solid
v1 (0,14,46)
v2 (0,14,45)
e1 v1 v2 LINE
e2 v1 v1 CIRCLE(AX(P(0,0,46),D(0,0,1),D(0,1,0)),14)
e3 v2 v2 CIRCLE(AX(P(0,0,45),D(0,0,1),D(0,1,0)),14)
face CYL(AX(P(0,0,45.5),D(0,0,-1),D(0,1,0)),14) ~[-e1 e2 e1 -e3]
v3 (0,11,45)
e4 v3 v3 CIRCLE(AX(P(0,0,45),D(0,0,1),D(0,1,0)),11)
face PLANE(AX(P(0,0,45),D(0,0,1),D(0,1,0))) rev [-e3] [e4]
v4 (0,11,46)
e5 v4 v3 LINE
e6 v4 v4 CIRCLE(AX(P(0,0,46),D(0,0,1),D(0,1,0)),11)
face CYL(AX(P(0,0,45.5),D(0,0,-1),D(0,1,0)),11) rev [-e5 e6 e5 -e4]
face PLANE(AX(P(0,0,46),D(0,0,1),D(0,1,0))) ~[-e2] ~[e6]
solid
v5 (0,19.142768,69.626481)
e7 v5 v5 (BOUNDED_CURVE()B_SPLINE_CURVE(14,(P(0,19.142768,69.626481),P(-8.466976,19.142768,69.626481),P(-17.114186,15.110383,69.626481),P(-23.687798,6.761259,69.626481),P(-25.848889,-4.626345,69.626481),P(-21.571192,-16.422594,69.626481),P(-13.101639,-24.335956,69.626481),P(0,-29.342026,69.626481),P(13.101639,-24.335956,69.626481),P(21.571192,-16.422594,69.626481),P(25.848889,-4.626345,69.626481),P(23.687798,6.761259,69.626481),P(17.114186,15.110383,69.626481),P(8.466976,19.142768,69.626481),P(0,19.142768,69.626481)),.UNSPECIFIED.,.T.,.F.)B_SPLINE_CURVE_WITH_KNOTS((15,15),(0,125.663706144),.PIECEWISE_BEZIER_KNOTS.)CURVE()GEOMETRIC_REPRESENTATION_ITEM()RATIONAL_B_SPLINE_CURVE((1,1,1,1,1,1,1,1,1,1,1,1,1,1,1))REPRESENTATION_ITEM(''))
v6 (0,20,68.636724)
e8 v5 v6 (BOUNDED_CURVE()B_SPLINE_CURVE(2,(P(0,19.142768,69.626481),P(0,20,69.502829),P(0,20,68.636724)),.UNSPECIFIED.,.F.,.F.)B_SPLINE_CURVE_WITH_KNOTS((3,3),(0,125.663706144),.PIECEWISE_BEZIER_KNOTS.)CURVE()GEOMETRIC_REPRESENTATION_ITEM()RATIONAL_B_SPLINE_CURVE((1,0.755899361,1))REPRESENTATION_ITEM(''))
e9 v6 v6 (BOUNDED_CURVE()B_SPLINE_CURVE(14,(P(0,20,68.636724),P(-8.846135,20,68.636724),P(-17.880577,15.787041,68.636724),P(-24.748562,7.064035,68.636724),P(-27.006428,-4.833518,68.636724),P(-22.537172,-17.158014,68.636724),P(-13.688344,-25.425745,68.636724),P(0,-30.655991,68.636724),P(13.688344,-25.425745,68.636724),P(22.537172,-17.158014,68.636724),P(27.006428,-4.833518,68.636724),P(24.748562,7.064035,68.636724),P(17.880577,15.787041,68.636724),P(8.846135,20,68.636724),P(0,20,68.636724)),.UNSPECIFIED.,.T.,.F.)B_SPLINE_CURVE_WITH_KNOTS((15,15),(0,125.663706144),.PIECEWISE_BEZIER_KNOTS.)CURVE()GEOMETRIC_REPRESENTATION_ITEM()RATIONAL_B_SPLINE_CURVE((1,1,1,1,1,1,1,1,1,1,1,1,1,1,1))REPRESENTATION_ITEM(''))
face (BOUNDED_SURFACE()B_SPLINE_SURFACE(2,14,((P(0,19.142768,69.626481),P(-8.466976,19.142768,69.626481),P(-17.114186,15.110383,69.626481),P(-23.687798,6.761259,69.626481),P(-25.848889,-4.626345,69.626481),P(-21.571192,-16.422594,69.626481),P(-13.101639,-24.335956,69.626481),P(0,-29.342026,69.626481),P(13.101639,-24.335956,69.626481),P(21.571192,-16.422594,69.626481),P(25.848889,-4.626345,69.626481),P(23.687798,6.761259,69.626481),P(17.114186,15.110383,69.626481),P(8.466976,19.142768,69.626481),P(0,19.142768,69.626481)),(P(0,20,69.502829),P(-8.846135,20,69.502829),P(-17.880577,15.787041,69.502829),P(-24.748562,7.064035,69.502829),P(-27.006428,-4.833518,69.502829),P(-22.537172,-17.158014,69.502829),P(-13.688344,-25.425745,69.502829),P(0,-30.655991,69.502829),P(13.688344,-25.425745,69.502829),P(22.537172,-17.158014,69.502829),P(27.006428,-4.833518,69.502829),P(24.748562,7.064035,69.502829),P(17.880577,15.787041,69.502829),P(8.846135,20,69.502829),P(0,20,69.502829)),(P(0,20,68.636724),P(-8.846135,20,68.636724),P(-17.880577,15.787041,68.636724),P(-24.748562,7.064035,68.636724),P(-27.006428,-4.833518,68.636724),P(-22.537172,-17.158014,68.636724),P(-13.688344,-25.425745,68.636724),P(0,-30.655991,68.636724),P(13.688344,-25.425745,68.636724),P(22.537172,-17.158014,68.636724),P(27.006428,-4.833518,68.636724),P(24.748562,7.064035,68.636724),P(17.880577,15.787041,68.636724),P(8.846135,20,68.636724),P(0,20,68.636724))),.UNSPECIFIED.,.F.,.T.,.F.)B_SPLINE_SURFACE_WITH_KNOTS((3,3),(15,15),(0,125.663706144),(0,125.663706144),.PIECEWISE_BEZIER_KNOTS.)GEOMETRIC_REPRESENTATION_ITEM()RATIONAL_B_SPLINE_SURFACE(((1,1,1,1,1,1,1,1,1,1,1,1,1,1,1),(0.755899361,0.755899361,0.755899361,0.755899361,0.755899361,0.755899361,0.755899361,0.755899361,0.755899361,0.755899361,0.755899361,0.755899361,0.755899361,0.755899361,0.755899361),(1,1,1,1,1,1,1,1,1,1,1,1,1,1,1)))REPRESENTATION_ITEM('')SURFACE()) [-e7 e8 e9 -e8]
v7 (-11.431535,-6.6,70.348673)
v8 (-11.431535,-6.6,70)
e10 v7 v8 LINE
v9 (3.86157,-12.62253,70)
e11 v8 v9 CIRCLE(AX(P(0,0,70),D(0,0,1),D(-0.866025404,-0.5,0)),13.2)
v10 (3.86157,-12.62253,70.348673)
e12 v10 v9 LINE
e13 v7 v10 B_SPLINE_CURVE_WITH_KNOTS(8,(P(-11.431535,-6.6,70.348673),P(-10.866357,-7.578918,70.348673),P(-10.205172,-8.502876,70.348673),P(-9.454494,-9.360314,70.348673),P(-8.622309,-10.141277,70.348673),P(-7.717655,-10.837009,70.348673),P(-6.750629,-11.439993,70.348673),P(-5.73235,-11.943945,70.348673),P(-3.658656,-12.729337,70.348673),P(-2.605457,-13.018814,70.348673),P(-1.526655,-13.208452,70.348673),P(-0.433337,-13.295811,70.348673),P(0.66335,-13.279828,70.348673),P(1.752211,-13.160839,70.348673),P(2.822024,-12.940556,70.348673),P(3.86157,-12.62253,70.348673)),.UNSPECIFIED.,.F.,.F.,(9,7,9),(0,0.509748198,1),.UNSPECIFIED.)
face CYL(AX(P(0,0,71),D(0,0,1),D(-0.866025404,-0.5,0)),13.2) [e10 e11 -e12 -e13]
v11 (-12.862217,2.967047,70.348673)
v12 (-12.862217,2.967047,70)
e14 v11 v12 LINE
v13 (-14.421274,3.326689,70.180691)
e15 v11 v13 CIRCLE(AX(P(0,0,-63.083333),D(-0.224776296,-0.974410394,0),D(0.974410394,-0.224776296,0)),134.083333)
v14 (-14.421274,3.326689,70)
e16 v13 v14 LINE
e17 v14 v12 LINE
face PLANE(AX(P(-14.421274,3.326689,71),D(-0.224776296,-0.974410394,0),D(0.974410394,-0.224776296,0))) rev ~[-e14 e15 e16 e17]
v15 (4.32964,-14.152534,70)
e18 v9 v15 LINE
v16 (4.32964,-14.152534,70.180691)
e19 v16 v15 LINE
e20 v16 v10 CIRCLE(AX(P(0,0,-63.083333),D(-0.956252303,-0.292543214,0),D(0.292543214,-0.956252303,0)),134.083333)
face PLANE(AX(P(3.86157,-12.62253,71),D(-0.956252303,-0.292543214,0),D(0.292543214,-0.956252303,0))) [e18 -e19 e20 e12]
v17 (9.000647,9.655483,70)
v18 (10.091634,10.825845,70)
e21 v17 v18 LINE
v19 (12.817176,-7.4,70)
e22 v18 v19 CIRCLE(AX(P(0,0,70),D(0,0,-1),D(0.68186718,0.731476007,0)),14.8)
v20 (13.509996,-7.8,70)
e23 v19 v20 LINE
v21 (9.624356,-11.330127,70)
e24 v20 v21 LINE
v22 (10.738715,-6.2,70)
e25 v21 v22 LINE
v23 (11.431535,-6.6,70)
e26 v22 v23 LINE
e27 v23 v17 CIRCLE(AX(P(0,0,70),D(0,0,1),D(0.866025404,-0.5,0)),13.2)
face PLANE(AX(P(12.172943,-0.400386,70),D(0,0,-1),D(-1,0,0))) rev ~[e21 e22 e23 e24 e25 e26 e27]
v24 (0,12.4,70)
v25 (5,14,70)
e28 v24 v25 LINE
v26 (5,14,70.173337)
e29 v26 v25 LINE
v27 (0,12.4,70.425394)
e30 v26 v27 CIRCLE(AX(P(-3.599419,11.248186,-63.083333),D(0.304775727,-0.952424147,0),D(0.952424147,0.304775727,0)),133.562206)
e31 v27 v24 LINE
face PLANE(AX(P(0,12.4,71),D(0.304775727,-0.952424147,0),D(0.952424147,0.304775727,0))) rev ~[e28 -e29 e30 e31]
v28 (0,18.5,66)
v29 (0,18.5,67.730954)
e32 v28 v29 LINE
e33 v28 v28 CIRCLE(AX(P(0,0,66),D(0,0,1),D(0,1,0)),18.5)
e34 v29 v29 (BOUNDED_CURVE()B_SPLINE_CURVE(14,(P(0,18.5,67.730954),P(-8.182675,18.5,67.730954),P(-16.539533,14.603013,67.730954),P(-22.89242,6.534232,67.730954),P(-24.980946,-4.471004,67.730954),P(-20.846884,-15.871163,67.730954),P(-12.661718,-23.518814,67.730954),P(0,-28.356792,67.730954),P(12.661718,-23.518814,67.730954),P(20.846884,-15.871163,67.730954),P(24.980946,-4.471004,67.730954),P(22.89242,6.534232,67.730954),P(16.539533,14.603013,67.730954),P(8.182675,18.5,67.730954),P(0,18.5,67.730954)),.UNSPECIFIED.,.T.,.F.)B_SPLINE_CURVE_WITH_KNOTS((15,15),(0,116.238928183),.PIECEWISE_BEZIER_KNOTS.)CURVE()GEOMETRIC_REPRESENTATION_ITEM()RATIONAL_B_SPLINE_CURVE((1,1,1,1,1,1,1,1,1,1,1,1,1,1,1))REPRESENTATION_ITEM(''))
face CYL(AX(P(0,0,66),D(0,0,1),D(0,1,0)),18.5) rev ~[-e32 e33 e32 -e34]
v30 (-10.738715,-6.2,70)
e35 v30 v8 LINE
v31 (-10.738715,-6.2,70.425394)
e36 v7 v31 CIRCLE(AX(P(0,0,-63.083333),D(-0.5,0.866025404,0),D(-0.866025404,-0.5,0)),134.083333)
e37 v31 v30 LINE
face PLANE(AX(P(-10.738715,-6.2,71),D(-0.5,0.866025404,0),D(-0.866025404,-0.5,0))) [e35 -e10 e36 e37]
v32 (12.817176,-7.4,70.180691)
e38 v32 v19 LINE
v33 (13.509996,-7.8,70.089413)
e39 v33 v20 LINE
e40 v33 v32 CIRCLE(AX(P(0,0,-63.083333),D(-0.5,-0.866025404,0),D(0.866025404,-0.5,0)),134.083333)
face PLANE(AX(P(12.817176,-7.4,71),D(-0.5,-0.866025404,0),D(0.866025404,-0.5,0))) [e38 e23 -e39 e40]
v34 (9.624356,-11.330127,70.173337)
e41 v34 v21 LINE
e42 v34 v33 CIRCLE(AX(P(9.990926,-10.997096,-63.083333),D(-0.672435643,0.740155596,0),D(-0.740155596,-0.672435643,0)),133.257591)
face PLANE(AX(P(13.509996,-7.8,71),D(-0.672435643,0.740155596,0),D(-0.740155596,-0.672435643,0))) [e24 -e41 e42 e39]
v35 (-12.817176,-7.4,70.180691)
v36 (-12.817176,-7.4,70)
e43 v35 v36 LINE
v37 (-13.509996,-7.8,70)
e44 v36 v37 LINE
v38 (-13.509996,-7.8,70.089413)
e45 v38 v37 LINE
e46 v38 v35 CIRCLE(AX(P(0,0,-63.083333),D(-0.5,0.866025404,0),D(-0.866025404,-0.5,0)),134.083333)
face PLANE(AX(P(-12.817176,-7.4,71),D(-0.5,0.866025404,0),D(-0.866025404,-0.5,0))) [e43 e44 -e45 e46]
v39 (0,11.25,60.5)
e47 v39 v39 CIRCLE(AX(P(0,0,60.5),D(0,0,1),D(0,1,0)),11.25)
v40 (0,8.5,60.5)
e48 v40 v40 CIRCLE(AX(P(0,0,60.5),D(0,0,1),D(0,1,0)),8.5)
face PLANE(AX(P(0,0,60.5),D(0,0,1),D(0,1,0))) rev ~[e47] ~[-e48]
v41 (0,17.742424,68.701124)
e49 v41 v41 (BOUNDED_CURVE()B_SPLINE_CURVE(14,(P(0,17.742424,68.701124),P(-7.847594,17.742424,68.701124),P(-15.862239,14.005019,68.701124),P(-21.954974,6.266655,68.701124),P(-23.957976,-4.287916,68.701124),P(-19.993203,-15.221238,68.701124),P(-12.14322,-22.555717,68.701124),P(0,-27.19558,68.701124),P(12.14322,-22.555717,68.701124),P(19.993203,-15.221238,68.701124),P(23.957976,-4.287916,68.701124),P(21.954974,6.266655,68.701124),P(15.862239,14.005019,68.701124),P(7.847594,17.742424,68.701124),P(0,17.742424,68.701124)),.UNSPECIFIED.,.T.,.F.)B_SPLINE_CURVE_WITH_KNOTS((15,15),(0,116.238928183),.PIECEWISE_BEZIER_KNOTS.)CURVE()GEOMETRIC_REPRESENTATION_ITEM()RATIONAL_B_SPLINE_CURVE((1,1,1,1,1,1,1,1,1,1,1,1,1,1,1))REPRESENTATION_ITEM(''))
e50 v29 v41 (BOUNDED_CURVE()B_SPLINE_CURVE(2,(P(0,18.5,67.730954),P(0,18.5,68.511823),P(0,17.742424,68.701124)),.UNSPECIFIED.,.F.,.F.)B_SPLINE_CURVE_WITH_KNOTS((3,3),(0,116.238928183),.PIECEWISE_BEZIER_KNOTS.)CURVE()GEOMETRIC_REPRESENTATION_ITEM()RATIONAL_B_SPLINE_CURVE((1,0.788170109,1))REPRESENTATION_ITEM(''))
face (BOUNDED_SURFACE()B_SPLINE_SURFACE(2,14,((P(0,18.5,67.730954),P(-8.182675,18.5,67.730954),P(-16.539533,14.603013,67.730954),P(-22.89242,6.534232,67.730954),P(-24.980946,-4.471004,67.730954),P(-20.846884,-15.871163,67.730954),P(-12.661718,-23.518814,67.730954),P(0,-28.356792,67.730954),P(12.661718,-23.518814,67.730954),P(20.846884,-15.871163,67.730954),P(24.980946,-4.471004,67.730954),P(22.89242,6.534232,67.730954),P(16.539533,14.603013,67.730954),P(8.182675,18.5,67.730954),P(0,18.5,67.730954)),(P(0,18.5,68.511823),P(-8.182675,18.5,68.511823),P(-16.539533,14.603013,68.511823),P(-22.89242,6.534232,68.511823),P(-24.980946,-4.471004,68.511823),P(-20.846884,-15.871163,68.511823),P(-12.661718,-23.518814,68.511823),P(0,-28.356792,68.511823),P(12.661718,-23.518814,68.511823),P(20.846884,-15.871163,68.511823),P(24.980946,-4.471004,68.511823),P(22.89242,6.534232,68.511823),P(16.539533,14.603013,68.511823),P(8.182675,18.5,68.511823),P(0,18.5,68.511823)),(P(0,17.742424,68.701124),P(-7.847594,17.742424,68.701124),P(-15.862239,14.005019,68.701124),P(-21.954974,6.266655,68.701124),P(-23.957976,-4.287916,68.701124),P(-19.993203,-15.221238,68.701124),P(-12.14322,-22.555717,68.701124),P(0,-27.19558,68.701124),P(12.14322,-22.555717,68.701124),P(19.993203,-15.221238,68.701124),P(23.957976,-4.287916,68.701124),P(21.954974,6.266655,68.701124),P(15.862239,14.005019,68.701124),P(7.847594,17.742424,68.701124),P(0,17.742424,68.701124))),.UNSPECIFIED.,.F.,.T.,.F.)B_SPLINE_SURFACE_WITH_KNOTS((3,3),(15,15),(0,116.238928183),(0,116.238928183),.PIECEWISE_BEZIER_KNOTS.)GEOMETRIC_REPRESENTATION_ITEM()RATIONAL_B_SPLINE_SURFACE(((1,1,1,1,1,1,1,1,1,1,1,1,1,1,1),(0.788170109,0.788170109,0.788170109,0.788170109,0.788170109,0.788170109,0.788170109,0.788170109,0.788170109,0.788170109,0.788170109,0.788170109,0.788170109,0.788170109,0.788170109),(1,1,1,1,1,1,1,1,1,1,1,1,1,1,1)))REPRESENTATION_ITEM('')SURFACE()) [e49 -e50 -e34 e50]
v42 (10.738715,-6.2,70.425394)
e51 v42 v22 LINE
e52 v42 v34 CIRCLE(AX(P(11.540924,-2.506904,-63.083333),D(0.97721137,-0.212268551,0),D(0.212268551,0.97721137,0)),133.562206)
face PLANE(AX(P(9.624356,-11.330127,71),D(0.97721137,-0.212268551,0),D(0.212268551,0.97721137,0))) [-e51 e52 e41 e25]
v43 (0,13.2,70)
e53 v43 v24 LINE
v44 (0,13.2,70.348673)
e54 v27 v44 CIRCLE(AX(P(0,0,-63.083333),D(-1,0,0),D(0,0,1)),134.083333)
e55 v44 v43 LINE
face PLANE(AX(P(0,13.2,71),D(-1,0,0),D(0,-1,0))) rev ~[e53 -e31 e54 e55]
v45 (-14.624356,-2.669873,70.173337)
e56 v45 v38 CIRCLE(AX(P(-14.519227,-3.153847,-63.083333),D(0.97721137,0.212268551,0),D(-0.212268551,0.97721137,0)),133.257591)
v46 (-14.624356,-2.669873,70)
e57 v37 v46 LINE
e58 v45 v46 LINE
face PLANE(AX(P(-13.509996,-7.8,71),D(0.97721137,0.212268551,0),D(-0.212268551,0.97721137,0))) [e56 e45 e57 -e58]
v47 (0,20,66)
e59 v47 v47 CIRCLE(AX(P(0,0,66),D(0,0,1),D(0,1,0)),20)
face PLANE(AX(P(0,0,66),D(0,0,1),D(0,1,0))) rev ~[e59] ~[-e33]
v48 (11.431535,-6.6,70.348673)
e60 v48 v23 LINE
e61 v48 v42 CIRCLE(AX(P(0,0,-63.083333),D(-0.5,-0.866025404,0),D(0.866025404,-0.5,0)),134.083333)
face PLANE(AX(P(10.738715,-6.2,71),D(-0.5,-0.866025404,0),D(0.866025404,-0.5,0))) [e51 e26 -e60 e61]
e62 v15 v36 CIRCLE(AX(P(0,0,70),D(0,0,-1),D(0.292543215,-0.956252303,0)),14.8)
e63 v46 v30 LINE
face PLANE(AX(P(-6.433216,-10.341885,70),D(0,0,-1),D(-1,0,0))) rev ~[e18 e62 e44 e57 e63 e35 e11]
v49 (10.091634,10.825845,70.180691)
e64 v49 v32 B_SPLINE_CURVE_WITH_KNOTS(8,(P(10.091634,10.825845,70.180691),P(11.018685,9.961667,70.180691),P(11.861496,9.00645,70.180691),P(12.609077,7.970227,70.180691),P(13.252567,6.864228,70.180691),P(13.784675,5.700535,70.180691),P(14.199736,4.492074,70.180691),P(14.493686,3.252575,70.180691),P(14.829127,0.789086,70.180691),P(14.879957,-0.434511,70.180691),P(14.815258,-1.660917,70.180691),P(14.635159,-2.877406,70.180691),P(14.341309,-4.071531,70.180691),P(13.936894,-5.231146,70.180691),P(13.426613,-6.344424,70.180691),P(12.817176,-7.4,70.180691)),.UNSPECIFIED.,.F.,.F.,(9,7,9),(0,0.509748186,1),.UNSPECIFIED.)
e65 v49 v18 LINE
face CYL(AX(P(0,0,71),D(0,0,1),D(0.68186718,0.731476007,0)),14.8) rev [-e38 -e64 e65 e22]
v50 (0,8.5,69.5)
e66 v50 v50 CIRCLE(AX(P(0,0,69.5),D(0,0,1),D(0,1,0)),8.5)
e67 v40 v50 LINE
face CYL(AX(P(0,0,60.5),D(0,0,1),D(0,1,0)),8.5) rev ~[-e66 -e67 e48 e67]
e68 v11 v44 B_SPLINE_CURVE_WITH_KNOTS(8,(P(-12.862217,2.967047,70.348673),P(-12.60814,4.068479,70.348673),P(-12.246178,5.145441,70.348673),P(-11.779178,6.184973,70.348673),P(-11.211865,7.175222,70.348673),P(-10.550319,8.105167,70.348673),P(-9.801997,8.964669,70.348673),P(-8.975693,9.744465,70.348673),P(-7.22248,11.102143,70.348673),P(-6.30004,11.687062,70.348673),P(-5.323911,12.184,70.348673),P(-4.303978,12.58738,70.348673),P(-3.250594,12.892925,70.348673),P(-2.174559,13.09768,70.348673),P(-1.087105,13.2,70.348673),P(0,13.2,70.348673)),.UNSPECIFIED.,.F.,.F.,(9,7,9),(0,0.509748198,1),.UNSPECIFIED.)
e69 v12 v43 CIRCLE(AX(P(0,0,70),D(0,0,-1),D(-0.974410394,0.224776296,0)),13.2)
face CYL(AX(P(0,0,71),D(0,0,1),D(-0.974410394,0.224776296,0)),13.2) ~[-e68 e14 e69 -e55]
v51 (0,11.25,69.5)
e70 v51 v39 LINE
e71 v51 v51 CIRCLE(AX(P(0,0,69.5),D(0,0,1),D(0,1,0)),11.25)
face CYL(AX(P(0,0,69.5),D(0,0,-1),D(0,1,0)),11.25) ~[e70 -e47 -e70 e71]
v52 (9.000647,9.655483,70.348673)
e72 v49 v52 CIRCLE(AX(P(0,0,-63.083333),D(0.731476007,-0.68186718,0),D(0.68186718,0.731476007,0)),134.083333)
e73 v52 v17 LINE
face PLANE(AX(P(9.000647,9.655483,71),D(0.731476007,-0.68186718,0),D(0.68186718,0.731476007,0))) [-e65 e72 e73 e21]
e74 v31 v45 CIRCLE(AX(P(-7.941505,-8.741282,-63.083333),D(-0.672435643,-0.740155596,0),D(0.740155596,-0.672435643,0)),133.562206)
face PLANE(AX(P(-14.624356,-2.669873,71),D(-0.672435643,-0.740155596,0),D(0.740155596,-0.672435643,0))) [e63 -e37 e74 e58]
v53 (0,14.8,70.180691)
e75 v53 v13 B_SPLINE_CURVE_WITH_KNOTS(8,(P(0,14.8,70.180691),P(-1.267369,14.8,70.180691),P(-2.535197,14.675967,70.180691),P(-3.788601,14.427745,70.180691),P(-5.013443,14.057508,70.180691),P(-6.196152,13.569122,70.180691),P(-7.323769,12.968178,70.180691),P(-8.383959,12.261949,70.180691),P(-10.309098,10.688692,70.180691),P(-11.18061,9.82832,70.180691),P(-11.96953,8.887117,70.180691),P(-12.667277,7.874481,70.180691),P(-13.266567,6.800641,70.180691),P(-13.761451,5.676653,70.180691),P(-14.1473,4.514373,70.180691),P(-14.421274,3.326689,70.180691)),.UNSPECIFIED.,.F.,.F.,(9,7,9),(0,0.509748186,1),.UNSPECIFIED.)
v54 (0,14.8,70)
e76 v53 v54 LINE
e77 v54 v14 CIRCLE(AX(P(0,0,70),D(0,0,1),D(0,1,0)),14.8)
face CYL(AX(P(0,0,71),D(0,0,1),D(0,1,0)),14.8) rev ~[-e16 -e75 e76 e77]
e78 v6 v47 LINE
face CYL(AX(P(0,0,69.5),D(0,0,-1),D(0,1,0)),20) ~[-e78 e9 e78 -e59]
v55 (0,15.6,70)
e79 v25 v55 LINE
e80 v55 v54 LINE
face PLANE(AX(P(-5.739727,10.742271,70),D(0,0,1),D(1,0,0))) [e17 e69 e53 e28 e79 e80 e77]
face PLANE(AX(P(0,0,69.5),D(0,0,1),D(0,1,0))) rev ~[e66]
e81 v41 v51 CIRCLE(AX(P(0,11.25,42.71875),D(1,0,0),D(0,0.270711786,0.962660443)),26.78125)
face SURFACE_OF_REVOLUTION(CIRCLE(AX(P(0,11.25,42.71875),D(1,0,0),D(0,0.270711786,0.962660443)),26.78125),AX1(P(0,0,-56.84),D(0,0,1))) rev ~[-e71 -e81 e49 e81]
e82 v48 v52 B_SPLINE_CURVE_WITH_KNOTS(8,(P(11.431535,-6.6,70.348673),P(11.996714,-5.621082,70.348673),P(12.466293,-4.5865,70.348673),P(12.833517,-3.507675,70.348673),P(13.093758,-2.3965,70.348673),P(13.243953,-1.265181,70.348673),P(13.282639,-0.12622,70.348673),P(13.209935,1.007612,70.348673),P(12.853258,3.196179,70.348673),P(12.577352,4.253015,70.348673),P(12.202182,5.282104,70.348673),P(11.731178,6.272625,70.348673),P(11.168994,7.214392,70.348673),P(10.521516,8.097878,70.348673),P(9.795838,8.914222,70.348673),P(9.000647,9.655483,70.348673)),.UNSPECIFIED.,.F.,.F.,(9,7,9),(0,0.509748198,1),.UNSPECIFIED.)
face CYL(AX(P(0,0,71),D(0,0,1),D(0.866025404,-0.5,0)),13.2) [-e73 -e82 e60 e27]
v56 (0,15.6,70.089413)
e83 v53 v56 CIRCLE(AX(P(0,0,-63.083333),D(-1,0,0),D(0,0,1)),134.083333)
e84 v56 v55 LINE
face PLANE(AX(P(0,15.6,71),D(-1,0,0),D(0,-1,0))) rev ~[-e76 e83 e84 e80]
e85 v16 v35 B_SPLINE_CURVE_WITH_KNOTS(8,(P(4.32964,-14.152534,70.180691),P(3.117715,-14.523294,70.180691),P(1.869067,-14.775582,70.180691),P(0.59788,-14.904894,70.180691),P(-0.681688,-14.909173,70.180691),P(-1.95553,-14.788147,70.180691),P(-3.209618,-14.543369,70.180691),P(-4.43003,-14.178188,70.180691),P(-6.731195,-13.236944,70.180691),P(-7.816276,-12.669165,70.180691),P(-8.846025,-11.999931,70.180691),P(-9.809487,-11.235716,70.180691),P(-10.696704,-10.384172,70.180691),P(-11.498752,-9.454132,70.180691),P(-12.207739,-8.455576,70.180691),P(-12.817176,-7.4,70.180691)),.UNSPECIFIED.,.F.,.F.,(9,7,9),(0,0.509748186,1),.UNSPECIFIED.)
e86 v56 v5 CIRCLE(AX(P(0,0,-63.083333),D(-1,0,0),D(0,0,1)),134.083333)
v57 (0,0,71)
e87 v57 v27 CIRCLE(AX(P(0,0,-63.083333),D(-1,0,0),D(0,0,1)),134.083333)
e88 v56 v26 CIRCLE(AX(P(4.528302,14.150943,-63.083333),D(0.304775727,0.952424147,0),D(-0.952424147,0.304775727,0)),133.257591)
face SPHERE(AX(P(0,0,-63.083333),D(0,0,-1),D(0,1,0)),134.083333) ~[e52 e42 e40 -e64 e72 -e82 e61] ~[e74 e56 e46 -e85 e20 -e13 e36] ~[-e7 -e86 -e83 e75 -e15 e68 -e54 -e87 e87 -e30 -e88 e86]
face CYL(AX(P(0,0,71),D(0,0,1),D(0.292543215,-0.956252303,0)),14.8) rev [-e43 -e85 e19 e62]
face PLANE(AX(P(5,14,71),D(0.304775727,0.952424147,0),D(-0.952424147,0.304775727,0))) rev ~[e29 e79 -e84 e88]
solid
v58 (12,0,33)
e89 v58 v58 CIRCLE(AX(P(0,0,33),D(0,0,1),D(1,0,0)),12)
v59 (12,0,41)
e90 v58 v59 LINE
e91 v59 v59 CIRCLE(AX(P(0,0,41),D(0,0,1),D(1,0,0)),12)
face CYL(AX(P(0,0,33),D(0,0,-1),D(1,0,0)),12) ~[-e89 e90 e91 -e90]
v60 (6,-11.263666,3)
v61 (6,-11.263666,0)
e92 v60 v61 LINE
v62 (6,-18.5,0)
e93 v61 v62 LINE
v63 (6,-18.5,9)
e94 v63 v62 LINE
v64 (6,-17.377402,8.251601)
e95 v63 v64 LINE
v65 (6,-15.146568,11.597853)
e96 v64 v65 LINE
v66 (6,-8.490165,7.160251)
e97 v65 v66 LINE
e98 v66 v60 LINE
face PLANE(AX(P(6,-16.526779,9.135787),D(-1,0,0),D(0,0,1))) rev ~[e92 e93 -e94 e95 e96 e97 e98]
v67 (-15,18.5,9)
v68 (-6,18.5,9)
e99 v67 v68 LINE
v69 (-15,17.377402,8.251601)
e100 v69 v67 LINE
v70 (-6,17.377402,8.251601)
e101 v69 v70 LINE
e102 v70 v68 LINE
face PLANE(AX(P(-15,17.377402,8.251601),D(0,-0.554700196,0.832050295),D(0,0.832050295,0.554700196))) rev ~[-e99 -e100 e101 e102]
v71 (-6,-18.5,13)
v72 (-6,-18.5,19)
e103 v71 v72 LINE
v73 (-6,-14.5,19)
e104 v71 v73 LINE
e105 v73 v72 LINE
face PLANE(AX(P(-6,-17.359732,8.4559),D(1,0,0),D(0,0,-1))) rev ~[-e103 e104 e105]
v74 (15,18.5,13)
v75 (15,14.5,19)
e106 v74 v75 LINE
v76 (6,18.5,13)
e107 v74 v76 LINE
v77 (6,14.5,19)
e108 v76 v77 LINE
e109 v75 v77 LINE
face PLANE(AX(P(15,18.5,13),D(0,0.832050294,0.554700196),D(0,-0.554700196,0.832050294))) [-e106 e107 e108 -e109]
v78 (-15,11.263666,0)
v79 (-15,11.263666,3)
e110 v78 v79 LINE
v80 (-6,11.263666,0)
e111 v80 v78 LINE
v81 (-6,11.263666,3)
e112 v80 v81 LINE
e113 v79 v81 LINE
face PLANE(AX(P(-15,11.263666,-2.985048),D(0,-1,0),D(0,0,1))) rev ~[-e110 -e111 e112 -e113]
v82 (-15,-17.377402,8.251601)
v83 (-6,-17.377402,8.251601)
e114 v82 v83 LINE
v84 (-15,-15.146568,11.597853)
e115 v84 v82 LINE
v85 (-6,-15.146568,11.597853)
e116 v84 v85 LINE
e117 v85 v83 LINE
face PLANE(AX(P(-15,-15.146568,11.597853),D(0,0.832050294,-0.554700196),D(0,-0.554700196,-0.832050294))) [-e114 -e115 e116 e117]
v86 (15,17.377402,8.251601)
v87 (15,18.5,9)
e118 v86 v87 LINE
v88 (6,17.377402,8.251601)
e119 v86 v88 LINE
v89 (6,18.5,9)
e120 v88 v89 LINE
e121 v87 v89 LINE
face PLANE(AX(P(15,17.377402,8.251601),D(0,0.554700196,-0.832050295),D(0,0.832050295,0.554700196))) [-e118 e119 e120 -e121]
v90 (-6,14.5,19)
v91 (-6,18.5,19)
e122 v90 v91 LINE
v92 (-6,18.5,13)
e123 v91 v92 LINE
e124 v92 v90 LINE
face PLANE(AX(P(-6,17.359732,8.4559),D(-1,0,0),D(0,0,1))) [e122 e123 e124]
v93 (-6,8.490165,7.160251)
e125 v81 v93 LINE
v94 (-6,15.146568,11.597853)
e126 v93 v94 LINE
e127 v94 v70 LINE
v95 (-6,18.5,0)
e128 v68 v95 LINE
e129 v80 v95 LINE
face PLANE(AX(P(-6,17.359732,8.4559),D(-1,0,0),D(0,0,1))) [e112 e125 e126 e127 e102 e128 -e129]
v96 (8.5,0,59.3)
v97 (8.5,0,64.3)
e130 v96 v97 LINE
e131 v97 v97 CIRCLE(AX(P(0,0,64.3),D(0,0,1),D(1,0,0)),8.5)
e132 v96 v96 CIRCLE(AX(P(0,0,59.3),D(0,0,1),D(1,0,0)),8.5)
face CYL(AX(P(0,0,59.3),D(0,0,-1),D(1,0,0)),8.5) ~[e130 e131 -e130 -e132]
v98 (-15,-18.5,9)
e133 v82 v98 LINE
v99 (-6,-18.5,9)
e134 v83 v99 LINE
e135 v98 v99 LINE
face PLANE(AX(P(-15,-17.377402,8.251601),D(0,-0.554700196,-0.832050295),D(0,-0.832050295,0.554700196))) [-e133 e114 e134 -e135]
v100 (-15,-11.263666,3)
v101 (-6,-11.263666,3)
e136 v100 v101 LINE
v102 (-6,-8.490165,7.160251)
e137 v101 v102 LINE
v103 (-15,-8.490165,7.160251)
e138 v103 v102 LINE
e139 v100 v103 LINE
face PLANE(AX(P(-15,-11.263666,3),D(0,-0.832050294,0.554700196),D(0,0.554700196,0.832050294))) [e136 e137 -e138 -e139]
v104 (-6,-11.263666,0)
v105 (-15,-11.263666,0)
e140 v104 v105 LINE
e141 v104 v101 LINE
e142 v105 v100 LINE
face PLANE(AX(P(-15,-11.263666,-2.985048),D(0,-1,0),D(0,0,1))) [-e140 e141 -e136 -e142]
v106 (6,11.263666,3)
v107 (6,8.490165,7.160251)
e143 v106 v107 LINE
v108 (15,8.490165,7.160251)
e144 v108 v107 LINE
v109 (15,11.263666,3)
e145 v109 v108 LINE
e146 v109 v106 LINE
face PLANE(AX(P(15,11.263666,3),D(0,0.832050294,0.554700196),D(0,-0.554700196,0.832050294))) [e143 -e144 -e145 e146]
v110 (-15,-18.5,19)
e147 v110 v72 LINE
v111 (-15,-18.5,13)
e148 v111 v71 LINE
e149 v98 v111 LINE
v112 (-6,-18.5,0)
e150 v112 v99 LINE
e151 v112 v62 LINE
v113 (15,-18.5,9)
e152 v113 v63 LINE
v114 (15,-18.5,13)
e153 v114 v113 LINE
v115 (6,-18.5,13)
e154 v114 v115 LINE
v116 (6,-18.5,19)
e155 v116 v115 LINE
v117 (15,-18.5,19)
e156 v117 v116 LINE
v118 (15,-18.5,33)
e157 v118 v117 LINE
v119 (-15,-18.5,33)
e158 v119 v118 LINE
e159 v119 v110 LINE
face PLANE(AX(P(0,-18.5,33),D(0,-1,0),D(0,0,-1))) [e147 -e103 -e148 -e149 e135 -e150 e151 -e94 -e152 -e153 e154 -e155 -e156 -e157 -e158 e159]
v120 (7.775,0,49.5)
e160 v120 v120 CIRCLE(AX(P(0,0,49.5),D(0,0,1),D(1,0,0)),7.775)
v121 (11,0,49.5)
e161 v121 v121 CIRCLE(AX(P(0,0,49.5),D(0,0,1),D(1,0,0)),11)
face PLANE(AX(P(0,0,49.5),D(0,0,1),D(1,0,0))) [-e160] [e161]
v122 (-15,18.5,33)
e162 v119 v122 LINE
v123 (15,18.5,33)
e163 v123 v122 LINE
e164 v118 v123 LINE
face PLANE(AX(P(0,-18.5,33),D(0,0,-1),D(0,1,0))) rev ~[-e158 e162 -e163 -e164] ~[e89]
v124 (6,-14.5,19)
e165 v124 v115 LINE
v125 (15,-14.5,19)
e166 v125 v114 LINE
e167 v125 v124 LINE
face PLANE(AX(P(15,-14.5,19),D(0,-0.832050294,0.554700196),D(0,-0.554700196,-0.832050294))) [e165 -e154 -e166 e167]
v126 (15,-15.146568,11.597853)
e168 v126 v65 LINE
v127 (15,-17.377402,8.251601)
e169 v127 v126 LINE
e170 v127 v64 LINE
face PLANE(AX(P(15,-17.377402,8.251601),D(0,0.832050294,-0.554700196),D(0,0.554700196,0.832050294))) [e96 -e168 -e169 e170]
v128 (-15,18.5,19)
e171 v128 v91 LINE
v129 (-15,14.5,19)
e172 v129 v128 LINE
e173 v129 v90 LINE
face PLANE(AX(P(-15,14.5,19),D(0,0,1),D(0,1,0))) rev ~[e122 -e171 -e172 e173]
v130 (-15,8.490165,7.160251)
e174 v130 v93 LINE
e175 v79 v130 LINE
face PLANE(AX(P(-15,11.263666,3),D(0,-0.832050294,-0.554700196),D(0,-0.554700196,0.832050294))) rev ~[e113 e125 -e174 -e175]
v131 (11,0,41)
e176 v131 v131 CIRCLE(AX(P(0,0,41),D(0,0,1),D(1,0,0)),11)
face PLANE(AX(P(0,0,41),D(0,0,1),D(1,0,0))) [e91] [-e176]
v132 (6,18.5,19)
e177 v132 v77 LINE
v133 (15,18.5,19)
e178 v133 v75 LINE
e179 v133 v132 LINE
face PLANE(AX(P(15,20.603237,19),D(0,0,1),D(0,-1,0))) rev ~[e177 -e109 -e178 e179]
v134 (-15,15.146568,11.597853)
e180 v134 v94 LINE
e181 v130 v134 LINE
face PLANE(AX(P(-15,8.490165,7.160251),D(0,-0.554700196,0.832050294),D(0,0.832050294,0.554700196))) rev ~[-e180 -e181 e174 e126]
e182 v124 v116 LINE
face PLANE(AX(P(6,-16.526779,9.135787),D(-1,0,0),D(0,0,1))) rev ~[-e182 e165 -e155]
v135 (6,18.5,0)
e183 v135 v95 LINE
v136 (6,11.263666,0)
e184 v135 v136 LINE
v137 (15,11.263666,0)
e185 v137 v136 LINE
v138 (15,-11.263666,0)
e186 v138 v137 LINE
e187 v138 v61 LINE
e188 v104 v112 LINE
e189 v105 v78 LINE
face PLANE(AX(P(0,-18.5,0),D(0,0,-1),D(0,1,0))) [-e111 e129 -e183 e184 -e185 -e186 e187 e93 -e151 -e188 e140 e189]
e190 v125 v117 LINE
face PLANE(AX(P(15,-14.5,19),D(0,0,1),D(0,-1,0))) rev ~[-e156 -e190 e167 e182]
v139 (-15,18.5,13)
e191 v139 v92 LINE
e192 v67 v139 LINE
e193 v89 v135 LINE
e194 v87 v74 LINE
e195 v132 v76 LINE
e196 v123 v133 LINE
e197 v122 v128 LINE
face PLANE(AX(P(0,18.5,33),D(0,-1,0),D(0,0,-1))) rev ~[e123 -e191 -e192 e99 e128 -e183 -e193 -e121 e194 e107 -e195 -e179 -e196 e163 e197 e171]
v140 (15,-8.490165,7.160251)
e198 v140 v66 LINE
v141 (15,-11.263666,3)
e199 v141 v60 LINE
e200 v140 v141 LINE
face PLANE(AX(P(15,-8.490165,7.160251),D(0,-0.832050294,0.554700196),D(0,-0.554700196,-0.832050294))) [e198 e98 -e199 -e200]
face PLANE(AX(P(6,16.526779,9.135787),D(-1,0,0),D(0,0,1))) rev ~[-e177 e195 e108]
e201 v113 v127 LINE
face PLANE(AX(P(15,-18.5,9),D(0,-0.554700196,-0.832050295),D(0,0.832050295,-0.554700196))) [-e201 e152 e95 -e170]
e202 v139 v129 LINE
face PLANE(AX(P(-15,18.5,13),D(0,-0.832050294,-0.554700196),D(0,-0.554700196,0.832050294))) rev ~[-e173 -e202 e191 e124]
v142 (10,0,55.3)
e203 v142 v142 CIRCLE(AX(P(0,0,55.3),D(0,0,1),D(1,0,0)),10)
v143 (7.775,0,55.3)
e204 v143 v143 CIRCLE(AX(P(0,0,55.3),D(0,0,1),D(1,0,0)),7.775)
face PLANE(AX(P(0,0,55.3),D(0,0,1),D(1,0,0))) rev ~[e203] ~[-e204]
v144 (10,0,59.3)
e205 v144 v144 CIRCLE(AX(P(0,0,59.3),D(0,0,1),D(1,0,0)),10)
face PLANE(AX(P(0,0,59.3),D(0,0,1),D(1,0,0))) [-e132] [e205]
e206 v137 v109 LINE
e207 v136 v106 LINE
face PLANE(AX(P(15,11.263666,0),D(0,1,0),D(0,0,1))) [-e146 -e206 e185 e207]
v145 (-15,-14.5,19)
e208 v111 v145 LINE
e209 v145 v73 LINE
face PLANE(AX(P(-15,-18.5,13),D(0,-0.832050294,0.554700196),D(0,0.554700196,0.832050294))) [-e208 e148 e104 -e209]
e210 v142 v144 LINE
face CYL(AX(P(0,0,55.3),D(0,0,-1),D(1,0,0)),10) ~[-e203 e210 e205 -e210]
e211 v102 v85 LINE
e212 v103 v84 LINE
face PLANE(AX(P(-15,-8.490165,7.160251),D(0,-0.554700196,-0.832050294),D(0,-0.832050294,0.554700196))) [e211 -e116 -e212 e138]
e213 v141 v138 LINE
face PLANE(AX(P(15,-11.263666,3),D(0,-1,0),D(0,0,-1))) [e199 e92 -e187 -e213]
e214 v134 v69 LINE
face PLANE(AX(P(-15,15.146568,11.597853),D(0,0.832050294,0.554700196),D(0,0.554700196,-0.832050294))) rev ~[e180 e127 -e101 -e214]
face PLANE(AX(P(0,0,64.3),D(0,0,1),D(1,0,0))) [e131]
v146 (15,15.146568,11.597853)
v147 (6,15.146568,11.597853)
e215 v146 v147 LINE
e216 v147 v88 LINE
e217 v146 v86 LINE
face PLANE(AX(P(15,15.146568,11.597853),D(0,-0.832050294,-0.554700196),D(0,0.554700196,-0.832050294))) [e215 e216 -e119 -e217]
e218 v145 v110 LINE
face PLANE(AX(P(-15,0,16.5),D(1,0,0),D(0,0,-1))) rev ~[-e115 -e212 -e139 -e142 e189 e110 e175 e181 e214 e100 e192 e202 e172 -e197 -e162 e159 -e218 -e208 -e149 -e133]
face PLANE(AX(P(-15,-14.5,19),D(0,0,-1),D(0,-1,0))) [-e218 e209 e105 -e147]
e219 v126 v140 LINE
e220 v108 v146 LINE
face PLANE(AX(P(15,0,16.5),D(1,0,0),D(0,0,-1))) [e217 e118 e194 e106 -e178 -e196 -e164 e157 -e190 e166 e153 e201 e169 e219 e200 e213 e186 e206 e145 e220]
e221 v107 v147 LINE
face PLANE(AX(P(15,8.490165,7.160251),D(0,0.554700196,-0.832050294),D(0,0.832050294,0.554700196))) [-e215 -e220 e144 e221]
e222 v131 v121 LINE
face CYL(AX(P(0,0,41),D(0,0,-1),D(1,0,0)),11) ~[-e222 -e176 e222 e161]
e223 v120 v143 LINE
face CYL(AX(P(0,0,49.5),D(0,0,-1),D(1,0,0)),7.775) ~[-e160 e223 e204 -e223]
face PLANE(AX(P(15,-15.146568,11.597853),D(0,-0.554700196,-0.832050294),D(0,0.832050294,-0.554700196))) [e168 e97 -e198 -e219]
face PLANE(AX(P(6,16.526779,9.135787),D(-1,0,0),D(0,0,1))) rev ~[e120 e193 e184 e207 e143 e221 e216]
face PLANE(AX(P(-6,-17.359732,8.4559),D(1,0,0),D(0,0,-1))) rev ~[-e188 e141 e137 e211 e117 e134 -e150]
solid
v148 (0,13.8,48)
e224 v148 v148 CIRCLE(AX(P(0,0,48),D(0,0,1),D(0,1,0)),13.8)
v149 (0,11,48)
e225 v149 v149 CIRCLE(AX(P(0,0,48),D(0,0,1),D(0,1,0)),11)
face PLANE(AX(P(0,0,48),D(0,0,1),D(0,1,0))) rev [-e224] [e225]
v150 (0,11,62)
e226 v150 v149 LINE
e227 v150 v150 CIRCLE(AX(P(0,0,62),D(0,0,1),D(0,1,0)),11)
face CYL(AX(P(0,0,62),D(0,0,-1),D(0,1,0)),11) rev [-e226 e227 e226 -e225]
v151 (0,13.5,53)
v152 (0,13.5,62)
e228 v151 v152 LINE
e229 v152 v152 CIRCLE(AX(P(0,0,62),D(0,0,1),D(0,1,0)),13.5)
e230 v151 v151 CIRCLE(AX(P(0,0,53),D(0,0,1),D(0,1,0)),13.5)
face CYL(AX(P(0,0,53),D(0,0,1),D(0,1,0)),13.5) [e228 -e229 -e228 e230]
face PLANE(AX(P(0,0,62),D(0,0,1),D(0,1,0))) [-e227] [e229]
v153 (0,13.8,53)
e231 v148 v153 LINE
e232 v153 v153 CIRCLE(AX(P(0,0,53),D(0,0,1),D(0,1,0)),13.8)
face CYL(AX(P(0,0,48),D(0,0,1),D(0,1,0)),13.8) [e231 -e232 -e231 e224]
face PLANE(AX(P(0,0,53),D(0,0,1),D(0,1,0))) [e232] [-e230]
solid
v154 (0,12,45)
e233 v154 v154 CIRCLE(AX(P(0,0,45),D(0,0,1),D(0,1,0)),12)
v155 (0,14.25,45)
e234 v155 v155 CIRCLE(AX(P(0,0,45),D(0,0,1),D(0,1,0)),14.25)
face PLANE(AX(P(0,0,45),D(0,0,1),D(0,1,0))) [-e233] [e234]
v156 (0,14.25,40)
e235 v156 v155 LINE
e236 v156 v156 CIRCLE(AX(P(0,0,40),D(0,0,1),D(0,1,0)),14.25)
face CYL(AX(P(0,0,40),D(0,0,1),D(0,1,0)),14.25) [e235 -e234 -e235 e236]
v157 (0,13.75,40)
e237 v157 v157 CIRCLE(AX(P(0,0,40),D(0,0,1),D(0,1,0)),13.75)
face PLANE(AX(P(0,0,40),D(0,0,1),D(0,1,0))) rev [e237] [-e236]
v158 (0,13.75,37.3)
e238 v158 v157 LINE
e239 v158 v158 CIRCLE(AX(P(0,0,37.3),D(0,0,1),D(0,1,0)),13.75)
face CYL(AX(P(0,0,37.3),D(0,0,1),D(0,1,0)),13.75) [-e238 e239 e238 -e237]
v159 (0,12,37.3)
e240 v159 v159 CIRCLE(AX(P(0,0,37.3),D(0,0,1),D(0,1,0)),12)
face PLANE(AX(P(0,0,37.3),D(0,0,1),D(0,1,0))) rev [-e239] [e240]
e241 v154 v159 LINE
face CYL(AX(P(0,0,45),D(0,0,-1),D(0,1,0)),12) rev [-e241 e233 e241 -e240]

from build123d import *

# Parameters (mm, degrees)
ESQUISSE1_W             = 33
ESQUISSE1_H             = 37
BOSS_EXTRU_1_DEPTH      = 15
ENL_V_MAT_EXTRU_1_DEPTH = 9
ENL_V_MAT_EXTRU_2_DEPTH = 9
ESQUISSE4_R             = 12
BOSS_EXTRU_2_DEPTH      = 8
ESQUISSE5_R             = 11
BOSS_EXTRU_3_DEPTH      = 8.5
ESQUISSE6_R             = 7.775
BOSS_EXTRU_4_DEPTH      = 5.8
ESQUISSE7_R             = 10
BOSS_EXTRU_5_DEPTH      = 4
ESQUISSE8_R             = 8.5
BOSS_EXTRU_6_DEPTH      = 5
ESQUISSE10_W            = 1
ESQUISSE10_H            = 3
CONG_1_R                = 1
ENL_V_MAT_EXTRU_3_DEPTH = 1


with BuildPart() as part:
    # Esquisse1 → Boss.-Extru.1 (new body, symmetric)
    with BuildSketch(Plane(origin=(0, 0, 0), x_dir=(0, 0, -1), z_dir=(1, 0, 0))):
        with Locations((-16.5, 0)):
            Rectangle(ESQUISSE1_W, ESQUISSE1_H)
    extrude(amount=BOSS_EXTRU_1_DEPTH, both=True)

    # Esquisse2 → Enlèv. mat.-Extru.1 (cut)
    with BuildSketch(Plane(origin=(15, 0, 0), x_dir=(0, 0, -1), z_dir=(1, 0, 0))):
        Polygon((-9, -18.5), (-8.251601476, -17.377402213), (-11.597853041, -15.146567836), (-7.160251472, -8.490165481), (-3, -11.263666462), (0, -11.263666462), (0, -20.603237272), (-19, -20.603237272), (-19, -18.5), (-19, -14.5), (-13, -18.5), align=None)
        Polygon((-19, 20.603237272), (0, 20.603237272), (0, 11.263666462), (-3, 11.263666462), (-7.160251472, 8.490165481), (-11.597853041, 15.146567836), (-8.251601476, 17.377402213), (-9, 18.5), (-13, 18.5), (-19, 14.5), (-19, 18.5), align=None)
    extrude(amount=-ENL_V_MAT_EXTRU_1_DEPTH, mode=Mode.SUBTRACT)

    # Esquisse3 → Enlèv. mat.-Extru.2 (cut)
    with BuildSketch(Plane.ZY.offset(15)):
        Polygon((-2.98504772, 11.263666462), (3, 11.263666462), (7.160251472, 8.490165481), (11.597853041, 15.146567836), (8.251601476, 17.377402213), (9, 18.5), (13, 18.5), (19, 14.5), (19, 18.5), (21.50409999, 22.256149985), (-2.98504772, 22.256149985), align=None)
        Polygon((-2.98504772, -22.256149985), (-2.98504772, -11.263666462), (3, -11.263666462), (7.160251472, -8.490165481), (11.597853041, -15.146567836), (8.251601476, -17.377402213), (9, -18.5), (13, -18.5), (19, -14.5), (19, -18.5), (21.50409999, -22.256149985), align=None)
    extrude(amount=-ENL_V_MAT_EXTRU_2_DEPTH, mode=Mode.SUBTRACT)

    # Esquisse4 → Boss.-Extru.2 (add)
    with BuildSketch(Plane.XY.offset(33)):
        Circle(ESQUISSE4_R)
    extrude(amount=BOSS_EXTRU_2_DEPTH)

    # Esquisse5 → Boss.-Extru.3 (add)
    with BuildSketch(Plane.XY.offset(41)):
        Circle(ESQUISSE5_R)
    extrude(amount=BOSS_EXTRU_3_DEPTH)

    # Esquisse6 → Boss.-Extru.4 (add)
    with BuildSketch(Plane.XY.offset(49.5)):
        Circle(ESQUISSE6_R)
    extrude(amount=BOSS_EXTRU_4_DEPTH)

    # Esquisse7 → Boss.-Extru.5 (add)
    with BuildSketch(Plane.XY.offset(55.3)):
        Circle(ESQUISSE7_R)
    extrude(amount=BOSS_EXTRU_5_DEPTH)

    # Esquisse8 → Boss.-Extru.6 (add)
    with BuildSketch(Plane.XY.offset(59.3)):
        Circle(ESQUISSE8_R)
    extrude(amount=BOSS_EXTRU_6_DEPTH)


with BuildPart() as body_2:
    # Esquisse9 → Révolution1 (revolve)
    with BuildSketch(Plane(origin=(0, 0, 0), x_dir=(0, 0, -1), z_dir=(1, 0, 0))):
        Polygon((-45, 12), (-37.3, 12), (-37.3, 13.75), (-40, 13.75), (-40, 14.25), (-45, 14.25), align=None)
    revolve(axis=Axis((0, 0, -56.84), (0, 0, 1)))


with BuildPart() as body_3:
    # Esquisse10 → Révolution2 (revolve)
    with BuildSketch(Plane(origin=(0, 0, 0), x_dir=(0, 0, -1), z_dir=(1, 0, 0))):
        with Locations((-45.5, 12.5)):
            Rectangle(ESQUISSE10_W, ESQUISSE10_H)
    revolve(axis=Axis((0, 0, -56.84), (0, 0, 1)))


with BuildPart() as body_4:
    # Esquisse11 → Révolution3 (revolve)
    with BuildSketch(Plane(origin=(0, 0, 0), x_dir=(0, 0, -1), z_dir=(1, 0, 0))):
        Polygon((-48, 11), (-48, 13.8), (-53, 13.8), (-53, 13.5), (-62, 13.5), (-62, 11), align=None)
    revolve(axis=Axis((0, 0, -56.84), (0, 0, 1)))


with BuildPart() as body_5:
    # Esquisse12 → Révolution4 (revolve)
    with BuildSketch(Plane(origin=(0, 0, 0), x_dir=(0, 0, -1), z_dir=(1, 0, 0))):
        with BuildLine():
            Line((-69.5, 11.25), (-60.5, 11.25))
            Line((-60.5, 11.25), (-60.5, 8.5))
            Line((-60.5, 8.5), (-69.5, 8.5))
            Line((-69.5, 8.5), (-69.5, 0))
            Line((-69.5, 0), (-71, 0))
            ThreePointArc((-71, 0), (-70.624474134, 10.02808556), (-69.5, 20))
            Line((-69.5, 20), (-66, 20))
            Line((-66, 20), (-66, 18.5))
            Line((-66, 18.5), (-68.5, 18.5))
            ThreePointArc((-68.5, 18.5), (-69.248822118, 14.909320292), (-69.5, 11.25))
        make_face()
    revolve(axis=Axis((0, 0, -56.84), (0, 0, 1)))

    # Congé1
    cong_1_edges = [body_5.edges().sort_by_distance(p)[0] for p in [
        (0, -18.5, 68.5),
        (0, -20, 69.5),
    ]]
    fillet(cong_1_edges, radius=CONG_1_R)

    # Esquisse13 → Enlèv. mat.-Extru.3 (cut)
    with BuildSketch(Plane.XY.offset(71)):
        with BuildLine():
            Line((0, 15.6), (0, 14.8))
            ThreePointArc((0, 14.8), (-9.214255263, 11.581774473), (-14.421273837, 3.326689182))
            Line((-14.421273837, 3.326689182), (-12.862217206, 2.967047108))
            ThreePointArc((-12.862217206, 2.967047108), (-8.218119559, 10.329690746), (0, 13.2))
            Line((0, 13.2), (0, 12.4))
            Line((0, 12.4), (5, 14))
            Line((5, 14), (0, 15.6))
        make_face()
        with BuildLine():
            Line((9.000646773, 9.655483295), (10.091634261, 10.825844907))
            ThreePointArc((10.091634261, 10.825844907), (14.637238546, 2.188891898), (12.817175976, -7.4))
            Line((12.817175976, -7.4), (13.509996299, -7.8))
            Line((13.509996299, -7.8), (9.624355653, -11.330127019))
            Line((9.624355653, -11.330127019), (10.738715007, -6.2))
            Line((10.738715007, -6.2), (11.43153533, -6.6))
            ThreePointArc((11.43153533, -6.6), (13.054834379, 1.952254936), (9.000646773, 9.655483295))
        make_face()
        with BuildLine():
            Line((3.861570433, -12.622530404), (4.329639576, -14.152534089))
            ThreePointArc((4.329639576, -14.152534089), (-5.422983283, -13.770666371), (-12.817175976, -7.4))
            Line((-12.817175976, -7.4), (-13.509996299, -7.8))
            Line((-13.509996299, -7.8), (-14.624355653, -2.669872981))
            Line((-14.624355653, -2.669872981), (-10.738715007, -6.2))
            Line((-10.738715007, -6.2), (-11.43153533, -6.6))
            ThreePointArc((-11.43153533, -6.6), (-4.83671482, -12.281945683), (3.861570433, -12.622530404))
        make_face()
    extrude(amount=-ENL_V_MAT_EXTRU_3_DEPTH, mode=Mode.SUBTRACT)


solid = Compound([part.part, body_2.part, body_3.part, body_4.part, body_5.part])
